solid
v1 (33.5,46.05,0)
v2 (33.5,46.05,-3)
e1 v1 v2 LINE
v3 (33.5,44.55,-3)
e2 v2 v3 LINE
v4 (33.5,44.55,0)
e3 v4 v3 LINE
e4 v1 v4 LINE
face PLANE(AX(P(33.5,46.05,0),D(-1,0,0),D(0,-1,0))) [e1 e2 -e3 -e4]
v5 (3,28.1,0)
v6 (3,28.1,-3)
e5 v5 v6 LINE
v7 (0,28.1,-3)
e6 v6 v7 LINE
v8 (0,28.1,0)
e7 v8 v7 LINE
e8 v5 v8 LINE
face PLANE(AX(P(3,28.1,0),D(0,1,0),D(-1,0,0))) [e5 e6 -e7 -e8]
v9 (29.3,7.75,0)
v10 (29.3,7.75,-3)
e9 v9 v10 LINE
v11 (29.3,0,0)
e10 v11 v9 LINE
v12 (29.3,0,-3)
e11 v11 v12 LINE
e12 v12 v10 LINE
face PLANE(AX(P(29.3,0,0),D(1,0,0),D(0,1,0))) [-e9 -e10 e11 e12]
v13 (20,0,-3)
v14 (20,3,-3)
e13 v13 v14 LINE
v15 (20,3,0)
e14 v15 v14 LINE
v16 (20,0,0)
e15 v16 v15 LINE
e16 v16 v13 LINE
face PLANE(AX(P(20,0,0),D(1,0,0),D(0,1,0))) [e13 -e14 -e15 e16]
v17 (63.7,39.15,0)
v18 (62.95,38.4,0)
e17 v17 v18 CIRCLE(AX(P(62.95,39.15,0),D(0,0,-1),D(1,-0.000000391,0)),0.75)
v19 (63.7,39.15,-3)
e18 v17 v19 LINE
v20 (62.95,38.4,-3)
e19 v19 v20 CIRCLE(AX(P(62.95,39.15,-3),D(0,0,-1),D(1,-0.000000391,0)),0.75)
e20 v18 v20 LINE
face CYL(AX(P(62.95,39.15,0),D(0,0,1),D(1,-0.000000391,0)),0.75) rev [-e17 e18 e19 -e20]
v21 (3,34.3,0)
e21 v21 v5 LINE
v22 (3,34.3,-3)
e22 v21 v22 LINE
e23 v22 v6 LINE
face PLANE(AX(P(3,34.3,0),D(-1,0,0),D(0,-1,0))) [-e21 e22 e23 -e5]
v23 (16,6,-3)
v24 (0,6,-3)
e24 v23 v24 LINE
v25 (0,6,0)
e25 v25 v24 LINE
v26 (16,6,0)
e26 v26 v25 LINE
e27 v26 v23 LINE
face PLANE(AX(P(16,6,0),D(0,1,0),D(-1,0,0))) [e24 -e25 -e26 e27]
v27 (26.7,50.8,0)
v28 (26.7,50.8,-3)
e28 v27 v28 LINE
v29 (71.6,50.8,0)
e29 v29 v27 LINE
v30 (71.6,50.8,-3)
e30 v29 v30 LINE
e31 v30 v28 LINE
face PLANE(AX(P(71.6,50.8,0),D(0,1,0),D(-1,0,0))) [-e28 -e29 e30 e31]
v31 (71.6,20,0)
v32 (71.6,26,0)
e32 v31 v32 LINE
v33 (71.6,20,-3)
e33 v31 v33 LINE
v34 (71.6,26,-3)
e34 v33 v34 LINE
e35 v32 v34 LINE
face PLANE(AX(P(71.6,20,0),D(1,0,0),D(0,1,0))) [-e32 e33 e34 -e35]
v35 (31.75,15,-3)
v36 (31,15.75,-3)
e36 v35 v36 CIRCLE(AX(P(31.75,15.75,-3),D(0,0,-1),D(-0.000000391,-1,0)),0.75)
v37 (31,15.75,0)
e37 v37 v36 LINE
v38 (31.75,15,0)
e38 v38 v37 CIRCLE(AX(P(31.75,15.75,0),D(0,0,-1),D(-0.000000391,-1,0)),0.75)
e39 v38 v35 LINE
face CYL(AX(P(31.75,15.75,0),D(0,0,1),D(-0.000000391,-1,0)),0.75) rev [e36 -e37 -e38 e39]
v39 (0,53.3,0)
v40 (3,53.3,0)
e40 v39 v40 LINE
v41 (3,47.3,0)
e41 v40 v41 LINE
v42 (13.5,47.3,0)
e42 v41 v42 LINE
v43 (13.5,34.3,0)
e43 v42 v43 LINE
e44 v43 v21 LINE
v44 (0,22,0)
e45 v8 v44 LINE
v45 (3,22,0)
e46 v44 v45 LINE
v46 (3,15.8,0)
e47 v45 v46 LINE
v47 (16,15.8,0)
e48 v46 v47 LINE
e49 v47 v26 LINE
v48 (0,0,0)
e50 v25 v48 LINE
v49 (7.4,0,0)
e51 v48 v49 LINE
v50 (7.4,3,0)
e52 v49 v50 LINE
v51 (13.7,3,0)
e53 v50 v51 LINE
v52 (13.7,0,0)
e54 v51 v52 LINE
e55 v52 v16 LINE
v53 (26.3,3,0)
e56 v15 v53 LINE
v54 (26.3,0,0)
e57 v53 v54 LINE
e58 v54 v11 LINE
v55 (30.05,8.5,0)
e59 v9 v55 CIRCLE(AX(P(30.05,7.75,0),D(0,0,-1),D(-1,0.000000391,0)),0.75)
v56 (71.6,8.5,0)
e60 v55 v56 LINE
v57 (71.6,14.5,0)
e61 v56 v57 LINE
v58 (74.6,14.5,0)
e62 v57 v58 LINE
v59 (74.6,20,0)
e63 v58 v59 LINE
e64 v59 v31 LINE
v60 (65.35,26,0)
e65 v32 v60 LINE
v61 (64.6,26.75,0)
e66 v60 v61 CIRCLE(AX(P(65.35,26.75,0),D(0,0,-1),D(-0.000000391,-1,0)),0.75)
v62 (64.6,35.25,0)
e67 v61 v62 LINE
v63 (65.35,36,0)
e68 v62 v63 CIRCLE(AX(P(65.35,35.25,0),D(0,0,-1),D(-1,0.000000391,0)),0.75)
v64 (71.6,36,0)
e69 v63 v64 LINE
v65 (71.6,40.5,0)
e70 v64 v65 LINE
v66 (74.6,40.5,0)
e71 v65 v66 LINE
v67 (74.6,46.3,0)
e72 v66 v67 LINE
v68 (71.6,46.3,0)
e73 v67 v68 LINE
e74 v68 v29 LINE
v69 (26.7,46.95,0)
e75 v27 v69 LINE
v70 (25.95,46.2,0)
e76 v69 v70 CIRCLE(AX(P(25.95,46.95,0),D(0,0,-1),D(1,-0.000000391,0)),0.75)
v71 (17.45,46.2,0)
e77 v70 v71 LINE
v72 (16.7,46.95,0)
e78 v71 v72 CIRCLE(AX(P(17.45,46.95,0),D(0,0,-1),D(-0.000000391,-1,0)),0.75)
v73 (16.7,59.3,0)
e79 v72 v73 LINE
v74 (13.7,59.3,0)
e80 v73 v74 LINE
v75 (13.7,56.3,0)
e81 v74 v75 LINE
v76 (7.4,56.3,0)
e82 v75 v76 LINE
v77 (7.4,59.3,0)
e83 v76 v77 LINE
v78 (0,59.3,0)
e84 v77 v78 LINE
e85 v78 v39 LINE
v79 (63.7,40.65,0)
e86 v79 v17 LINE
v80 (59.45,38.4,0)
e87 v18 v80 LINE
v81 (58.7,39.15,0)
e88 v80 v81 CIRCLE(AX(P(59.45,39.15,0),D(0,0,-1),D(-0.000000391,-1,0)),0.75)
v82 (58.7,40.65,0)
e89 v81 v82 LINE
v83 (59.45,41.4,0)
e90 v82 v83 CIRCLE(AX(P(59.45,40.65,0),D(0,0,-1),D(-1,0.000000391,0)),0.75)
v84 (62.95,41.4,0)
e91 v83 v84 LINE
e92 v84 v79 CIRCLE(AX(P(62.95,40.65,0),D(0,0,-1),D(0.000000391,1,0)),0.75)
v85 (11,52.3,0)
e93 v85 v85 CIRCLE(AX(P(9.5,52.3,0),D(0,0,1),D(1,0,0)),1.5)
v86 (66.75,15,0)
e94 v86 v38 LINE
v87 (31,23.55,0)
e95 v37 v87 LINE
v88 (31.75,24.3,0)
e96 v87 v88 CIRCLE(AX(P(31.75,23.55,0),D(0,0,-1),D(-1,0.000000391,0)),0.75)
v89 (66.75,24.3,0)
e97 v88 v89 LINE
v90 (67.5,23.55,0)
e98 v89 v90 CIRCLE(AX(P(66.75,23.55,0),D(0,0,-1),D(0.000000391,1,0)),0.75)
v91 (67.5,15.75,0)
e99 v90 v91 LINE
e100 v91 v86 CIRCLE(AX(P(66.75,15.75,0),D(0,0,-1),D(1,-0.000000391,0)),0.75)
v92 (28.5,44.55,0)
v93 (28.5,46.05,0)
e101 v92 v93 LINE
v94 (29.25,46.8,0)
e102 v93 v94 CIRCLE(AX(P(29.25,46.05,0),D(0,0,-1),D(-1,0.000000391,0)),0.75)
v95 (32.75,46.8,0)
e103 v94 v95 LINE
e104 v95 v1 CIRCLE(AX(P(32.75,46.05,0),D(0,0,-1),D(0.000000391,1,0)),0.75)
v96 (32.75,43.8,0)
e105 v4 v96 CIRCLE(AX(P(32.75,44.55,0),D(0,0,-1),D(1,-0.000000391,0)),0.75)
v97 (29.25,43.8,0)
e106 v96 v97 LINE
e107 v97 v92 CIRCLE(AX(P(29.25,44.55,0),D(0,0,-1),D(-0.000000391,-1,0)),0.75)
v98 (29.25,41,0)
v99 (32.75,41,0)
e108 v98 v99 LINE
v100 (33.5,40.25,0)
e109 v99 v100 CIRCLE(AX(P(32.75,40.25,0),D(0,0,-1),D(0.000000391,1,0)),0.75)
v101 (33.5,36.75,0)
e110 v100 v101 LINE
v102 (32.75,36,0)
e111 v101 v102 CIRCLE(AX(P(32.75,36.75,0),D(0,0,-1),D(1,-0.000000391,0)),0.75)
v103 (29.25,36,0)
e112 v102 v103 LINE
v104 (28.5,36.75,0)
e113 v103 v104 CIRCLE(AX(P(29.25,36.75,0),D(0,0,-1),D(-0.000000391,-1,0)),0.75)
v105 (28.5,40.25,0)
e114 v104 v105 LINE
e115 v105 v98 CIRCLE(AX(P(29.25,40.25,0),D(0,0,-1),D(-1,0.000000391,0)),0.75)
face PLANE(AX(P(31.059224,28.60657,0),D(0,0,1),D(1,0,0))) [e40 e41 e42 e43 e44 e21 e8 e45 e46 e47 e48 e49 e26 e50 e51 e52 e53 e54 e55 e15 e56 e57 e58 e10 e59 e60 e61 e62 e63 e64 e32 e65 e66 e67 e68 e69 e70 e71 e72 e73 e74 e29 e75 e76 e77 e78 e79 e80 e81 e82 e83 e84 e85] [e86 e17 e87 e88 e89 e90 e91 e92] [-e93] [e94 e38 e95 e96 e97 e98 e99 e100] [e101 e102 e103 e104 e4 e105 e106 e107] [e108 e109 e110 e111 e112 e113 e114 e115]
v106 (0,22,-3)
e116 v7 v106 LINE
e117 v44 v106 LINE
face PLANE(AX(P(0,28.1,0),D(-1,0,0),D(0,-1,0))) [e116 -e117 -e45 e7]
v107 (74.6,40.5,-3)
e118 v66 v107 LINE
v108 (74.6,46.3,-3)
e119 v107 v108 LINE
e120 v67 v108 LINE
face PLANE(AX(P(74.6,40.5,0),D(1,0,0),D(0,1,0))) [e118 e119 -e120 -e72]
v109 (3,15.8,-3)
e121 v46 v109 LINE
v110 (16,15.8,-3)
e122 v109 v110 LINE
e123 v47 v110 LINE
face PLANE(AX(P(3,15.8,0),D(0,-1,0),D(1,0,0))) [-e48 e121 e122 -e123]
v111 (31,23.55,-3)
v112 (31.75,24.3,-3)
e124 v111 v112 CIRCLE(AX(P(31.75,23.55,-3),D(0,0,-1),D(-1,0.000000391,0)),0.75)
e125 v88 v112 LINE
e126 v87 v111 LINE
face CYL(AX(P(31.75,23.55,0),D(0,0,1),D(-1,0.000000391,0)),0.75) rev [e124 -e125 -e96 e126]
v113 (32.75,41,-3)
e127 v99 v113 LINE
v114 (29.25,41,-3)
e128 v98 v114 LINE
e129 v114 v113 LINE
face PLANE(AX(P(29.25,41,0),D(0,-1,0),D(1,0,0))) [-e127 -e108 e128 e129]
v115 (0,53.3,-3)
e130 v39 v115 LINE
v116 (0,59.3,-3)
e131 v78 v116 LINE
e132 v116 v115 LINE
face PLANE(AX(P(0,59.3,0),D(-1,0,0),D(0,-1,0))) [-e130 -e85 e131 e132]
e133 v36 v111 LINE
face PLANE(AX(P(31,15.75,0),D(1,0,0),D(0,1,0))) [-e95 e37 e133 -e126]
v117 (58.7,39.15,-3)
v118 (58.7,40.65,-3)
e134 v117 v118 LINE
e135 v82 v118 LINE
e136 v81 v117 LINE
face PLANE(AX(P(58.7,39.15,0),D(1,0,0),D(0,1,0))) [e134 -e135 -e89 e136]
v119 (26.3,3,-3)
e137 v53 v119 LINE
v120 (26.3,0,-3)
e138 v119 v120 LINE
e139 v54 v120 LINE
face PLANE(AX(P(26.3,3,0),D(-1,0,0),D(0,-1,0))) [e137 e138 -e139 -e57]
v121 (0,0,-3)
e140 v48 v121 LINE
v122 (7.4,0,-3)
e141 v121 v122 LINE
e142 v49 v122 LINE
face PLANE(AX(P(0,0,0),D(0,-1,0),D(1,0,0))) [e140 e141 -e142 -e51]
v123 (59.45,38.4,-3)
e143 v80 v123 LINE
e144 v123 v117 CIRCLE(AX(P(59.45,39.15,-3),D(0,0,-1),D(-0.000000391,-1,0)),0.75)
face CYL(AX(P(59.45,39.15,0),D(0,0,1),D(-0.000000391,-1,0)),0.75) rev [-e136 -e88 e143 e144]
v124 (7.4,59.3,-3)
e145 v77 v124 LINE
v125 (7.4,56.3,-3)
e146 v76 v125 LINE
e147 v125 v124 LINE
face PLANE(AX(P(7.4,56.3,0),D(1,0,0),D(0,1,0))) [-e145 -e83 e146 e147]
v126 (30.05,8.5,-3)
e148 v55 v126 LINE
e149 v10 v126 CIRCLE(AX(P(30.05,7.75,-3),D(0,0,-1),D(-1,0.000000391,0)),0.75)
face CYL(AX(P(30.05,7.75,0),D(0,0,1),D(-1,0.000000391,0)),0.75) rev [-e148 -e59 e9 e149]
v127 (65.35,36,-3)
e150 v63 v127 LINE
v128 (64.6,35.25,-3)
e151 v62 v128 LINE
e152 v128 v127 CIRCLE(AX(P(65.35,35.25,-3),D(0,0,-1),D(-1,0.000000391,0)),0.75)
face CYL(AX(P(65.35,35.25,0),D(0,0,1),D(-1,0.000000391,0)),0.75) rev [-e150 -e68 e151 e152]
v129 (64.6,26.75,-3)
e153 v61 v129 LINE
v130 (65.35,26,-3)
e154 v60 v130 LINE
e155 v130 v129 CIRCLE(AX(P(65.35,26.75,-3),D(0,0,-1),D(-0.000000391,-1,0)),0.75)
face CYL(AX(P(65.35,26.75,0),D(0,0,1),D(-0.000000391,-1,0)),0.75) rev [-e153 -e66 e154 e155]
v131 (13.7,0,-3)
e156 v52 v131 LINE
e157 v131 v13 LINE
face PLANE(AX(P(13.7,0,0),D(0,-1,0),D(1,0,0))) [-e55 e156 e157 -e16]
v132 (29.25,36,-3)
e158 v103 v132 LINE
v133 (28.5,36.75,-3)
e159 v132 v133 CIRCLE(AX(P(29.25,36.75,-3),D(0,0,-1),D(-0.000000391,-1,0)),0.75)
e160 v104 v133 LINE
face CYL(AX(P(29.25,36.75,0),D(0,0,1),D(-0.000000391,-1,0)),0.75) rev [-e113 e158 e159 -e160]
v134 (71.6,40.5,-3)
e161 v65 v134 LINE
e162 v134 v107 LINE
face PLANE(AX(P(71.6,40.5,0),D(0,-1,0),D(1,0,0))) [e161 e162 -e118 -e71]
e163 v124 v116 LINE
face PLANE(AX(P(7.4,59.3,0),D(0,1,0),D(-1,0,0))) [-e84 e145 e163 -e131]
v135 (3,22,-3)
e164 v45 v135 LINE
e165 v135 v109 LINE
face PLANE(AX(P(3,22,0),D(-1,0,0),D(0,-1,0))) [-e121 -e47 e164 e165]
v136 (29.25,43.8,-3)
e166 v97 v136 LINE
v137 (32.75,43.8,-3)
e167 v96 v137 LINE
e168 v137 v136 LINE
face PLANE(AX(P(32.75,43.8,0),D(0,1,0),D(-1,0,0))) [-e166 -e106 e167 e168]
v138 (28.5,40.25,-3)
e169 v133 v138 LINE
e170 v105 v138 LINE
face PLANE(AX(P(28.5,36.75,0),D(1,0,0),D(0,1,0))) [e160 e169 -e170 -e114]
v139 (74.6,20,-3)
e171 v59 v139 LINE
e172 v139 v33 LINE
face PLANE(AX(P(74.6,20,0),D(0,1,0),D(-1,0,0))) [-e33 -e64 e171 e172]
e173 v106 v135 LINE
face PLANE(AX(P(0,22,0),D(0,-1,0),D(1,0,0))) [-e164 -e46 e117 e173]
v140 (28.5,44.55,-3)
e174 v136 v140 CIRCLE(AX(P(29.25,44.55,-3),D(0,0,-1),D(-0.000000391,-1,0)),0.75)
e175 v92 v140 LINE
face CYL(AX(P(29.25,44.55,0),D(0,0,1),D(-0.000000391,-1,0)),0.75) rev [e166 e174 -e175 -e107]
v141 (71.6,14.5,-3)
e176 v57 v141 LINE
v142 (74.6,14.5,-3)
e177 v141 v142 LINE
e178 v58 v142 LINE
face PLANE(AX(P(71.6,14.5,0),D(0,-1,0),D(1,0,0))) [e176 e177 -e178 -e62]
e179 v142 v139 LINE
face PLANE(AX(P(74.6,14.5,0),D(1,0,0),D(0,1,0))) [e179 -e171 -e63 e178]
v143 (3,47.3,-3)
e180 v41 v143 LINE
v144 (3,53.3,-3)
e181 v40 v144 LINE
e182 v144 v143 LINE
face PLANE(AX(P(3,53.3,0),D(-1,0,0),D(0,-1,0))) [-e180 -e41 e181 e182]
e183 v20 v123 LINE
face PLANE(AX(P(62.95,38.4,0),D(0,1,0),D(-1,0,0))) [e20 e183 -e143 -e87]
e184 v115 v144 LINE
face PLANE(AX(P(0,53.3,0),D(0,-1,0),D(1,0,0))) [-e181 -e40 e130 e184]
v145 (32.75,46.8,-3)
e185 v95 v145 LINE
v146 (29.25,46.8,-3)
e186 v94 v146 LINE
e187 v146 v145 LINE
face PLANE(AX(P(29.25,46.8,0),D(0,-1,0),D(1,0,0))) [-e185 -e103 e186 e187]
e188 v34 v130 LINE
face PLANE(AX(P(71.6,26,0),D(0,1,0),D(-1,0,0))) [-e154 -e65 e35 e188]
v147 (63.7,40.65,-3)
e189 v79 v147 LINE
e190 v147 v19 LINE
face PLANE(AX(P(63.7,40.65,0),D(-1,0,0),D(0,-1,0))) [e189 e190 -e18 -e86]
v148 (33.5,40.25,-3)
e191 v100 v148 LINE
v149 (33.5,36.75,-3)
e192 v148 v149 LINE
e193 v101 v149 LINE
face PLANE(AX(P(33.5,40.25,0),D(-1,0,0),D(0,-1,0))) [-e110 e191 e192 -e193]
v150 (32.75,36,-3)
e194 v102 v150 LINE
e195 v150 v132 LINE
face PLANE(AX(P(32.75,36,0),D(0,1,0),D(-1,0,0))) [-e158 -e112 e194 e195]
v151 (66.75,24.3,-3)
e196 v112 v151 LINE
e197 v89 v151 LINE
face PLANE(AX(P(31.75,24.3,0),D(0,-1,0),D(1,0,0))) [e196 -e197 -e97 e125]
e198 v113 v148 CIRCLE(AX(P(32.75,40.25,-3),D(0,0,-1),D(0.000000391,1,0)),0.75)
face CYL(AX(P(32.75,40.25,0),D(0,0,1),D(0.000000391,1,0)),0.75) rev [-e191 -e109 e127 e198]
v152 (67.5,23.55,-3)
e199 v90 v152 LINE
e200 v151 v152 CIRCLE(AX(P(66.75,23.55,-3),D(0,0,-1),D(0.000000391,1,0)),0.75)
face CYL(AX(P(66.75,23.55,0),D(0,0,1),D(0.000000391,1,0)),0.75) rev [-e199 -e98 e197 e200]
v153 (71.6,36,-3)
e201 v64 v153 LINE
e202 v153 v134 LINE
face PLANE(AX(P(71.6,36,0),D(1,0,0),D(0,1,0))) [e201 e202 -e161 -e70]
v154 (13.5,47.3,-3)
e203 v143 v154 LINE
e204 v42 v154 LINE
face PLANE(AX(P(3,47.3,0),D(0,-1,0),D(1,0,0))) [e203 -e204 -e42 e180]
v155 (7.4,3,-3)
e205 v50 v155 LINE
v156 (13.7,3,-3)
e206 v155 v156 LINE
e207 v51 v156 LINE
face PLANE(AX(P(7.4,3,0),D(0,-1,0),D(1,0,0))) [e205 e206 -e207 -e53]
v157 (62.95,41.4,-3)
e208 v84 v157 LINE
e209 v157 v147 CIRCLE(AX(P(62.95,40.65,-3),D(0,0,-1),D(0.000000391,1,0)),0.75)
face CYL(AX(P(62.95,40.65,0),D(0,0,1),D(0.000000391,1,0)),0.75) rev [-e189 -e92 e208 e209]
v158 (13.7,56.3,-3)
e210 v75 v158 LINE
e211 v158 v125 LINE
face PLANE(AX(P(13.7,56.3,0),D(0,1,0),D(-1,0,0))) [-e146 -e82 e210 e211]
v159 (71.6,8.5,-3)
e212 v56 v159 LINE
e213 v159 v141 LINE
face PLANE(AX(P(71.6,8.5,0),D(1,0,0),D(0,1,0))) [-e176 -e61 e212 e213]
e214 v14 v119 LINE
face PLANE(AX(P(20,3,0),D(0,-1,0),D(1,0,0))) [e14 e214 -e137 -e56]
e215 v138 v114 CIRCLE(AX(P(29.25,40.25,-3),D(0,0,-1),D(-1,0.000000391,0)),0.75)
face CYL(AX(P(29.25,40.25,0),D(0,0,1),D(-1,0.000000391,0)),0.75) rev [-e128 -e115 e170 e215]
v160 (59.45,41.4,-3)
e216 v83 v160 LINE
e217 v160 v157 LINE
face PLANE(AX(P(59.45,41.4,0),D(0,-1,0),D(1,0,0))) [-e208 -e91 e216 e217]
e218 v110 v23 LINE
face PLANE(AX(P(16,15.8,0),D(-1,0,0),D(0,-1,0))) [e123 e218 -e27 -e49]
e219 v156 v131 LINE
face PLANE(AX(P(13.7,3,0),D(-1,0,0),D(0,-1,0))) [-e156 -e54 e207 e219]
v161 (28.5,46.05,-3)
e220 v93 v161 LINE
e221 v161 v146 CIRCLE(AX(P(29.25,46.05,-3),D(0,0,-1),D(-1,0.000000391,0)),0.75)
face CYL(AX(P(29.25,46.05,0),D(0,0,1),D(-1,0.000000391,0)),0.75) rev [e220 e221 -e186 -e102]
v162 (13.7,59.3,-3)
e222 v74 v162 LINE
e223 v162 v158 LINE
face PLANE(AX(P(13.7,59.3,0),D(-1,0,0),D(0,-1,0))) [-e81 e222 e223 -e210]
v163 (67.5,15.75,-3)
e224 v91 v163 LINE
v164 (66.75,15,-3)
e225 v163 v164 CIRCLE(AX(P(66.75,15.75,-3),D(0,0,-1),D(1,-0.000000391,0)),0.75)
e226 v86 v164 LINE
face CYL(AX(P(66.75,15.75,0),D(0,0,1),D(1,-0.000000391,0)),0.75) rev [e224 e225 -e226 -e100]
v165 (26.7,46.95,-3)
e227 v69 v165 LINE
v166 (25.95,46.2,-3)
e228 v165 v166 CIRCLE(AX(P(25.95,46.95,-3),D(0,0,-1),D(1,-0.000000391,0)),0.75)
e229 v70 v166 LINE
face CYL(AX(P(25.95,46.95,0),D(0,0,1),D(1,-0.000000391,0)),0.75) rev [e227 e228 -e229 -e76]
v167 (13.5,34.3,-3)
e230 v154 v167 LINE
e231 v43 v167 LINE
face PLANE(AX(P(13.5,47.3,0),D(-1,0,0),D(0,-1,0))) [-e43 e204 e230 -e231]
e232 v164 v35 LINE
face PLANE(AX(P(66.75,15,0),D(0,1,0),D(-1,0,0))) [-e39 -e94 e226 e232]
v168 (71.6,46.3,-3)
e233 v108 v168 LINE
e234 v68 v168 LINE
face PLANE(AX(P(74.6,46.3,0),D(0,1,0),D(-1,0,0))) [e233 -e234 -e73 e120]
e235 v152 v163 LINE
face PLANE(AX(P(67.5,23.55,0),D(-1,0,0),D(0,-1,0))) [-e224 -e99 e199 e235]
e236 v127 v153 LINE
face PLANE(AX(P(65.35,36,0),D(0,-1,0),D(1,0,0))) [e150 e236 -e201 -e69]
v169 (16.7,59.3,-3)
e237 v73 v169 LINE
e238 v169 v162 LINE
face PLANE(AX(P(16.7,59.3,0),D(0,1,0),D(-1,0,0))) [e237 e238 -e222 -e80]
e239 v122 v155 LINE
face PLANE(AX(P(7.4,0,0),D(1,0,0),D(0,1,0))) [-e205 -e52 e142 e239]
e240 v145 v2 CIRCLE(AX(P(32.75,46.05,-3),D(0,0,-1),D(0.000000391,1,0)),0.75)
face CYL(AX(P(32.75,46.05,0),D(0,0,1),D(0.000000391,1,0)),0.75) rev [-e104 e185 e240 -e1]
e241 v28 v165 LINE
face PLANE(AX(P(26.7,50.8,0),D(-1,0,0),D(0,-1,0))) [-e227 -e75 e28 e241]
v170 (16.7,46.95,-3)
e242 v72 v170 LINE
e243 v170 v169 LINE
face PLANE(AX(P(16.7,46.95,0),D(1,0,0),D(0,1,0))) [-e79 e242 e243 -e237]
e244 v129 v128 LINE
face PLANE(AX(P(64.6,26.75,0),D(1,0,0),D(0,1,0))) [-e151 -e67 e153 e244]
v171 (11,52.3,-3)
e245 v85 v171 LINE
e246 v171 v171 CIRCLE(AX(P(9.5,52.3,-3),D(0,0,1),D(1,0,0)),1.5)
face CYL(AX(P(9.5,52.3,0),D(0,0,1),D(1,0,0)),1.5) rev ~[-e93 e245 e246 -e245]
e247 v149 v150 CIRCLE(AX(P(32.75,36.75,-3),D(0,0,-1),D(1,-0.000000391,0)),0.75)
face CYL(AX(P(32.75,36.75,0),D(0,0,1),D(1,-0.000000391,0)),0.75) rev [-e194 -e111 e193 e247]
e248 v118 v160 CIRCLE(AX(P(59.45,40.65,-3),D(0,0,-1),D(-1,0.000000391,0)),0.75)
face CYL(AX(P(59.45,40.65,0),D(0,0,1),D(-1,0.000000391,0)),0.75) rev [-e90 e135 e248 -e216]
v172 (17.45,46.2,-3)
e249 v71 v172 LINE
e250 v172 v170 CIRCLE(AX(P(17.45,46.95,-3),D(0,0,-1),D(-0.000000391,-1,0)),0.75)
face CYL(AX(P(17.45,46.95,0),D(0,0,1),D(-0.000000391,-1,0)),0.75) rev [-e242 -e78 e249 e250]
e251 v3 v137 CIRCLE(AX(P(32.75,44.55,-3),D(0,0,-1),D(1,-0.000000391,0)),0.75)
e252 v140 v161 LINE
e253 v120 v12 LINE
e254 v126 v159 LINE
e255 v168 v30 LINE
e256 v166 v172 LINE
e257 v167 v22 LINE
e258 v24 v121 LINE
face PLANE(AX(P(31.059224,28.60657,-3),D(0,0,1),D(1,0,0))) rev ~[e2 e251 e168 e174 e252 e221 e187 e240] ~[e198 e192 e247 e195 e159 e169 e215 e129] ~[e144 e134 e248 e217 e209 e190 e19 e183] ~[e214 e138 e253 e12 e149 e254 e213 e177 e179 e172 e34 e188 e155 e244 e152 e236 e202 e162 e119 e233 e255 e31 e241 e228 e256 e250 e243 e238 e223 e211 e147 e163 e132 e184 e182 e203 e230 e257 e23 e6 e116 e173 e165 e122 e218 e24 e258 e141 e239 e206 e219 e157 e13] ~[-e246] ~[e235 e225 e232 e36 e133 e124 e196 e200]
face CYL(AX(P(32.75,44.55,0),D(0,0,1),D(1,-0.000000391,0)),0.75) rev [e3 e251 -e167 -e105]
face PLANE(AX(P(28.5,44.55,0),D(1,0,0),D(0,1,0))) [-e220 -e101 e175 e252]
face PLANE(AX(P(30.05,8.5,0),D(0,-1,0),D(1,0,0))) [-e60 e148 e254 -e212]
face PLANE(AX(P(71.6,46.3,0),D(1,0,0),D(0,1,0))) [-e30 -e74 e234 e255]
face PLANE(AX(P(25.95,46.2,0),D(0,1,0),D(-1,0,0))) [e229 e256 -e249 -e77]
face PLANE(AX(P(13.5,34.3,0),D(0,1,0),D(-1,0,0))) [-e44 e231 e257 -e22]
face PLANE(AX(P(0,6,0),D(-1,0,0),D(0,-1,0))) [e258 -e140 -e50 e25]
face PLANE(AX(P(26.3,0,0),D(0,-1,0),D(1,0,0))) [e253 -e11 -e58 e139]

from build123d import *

# Parameters (mm, degrees)
F0_R     = 1.5
F1_DEPTH = 3


with BuildPart() as f1:
    # F0 (on Top) → F1 (new body)
    with BuildSketch(Plane.XY):
        with BuildLine():
            Line((0, 6), (0, 0))
            Line((0, 0), (7.4, 0))
            Line((7.4, 0), (7.4, 3))
            Line((7.4, 3), (13.7, 3))
            Line((13.7, 3), (13.7, 0))
            Line((13.7, 0), (20, 0))
            Line((20, 0), (20, 3))
            Line((20, 3), (26.3, 3))
            Line((26.3, 3), (26.3, 0))
            Line((26.3, 0), (29.3, 0))
            Line((29.3, 0), (29.3, 7.75))
            ThreePointArc((29.3, 7.75), (29.51967, 8.28033), (30.05, 8.5))
            Line((30.05, 8.5), (71.6, 8.5))
            Line((71.6, 8.5), (71.6, 14.5))
            Line((71.6, 14.5), (74.6, 14.5))
            Line((74.6, 14.5), (74.6, 20))
            Line((74.6, 20), (71.6, 20))
            Line((71.6, 20), (71.6, 26))
            Line((71.6, 26), (65.35, 26))
            ThreePointArc((65.35, 26), (64.81967, 26.21967), (64.6, 26.75))
            Line((64.6, 26.75), (64.6, 35.25))
            ThreePointArc((64.6, 35.25), (64.81967, 35.78033), (65.35, 36))
            Line((65.35, 36), (71.6, 36))
            Line((71.6, 36), (71.6, 40.5))
            Line((71.6, 40.5), (74.6, 40.5))
            Line((74.6, 40.5), (74.6, 46.3))
            Line((74.6, 46.3), (71.6, 46.3))
            Line((71.6, 46.3), (71.6, 50.8))
            Line((71.6, 50.8), (26.7, 50.8))
            Line((26.7, 50.8), (26.7, 46.95))
            ThreePointArc((26.7, 46.95), (26.48033, 46.41967), (25.95, 46.2))
            Line((25.95, 46.2), (17.45, 46.2))
            ThreePointArc((17.45, 46.2), (16.91967, 46.41967), (16.7, 46.95))
            Line((16.7, 46.95), (16.7, 59.3))
            Line((16.7, 59.3), (13.7, 59.3))
            Line((13.7, 59.3), (13.7, 56.3))
            Line((13.7, 56.3), (7.4, 56.3))
            Line((7.4, 56.3), (7.4, 59.3))
            Line((7.4, 59.3), (0, 59.3))
            Line((0, 59.3), (0, 53.3))
            Line((0, 53.3), (3, 53.3))
            Line((3, 53.3), (3, 47.3))
            Line((3, 47.3), (13.5, 47.3))
            Line((13.5, 47.3), (13.5, 34.3))
            Line((13.5, 34.3), (3, 34.3))
            Line((3, 34.3), (3, 28.1))
            Line((3, 28.1), (0, 28.1))
            Line((0, 28.1), (0, 22))
            Line((0, 22), (3, 22))
            Line((3, 22), (3, 15.8))
            Line((3, 15.8), (16, 15.8))
            Line((16, 15.8), (16, 6))
            Line((16, 6), (0, 6))
        make_face()
        with BuildLine():
            Line((66.75, 15), (31.75, 15))
            ThreePointArc((31.75, 15), (31.21967, 15.21967), (31, 15.75))
            Line((31, 15.75), (31, 23.55))
            ThreePointArc((31, 23.55), (31.21967, 24.08033), (31.75, 24.3))
            Line((31.75, 24.3), (66.75, 24.3))
            ThreePointArc((66.75, 24.3), (67.28033, 24.08033), (67.5, 23.55))
            Line((67.5, 23.55), (67.5, 15.75))
            ThreePointArc((67.5, 15.75), (67.28033, 15.21967), (66.75, 15))
        make_face(mode=Mode.SUBTRACT)
        with BuildLine():
            Line((32.75, 36), (29.25, 36))
            ThreePointArc((29.25, 36), (28.71967, 36.21967), (28.5, 36.75))
            Line((28.5, 36.75), (28.5, 40.25))
            ThreePointArc((28.5, 40.25), (28.71967, 40.78033), (29.25, 41))
            Line((29.25, 41), (32.75, 41))
            ThreePointArc((32.75, 41), (33.28033, 40.78033), (33.5, 40.25))
            Line((33.5, 40.25), (33.5, 36.75))
            ThreePointArc((33.5, 36.75), (33.28033, 36.21967), (32.75, 36))
        make_face(mode=Mode.SUBTRACT)
        with Locations((9.5, 52.3)):
            Circle(F0_R, mode=Mode.SUBTRACT)
        with BuildLine():
            Line((32.75, 43.8), (29.25, 43.8))
            ThreePointArc((29.25, 43.8), (28.71967, 44.01967), (28.5, 44.55))
            Line((28.5, 44.55), (28.5, 46.05))
            ThreePointArc((28.5, 46.05), (28.71967, 46.58033), (29.25, 46.8))
            Line((29.25, 46.8), (32.75, 46.8))
            ThreePointArc((32.75, 46.8), (33.28033, 46.58033), (33.5, 46.05))
            Line((33.5, 46.05), (33.5, 44.55))
            ThreePointArc((33.5, 44.55), (33.28033, 44.01967), (32.75, 43.8))
        make_face(mode=Mode.SUBTRACT)
        with BuildLine():
            Line((62.95, 38.4), (59.45, 38.4))
            ThreePointArc((59.45, 38.4), (58.91967, 38.61967), (58.7, 39.15))
            Line((58.7, 39.15), (58.7, 40.65))
            ThreePointArc((58.7, 40.65), (58.91967, 41.18033), (59.45, 41.4))
            Line((59.45, 41.4), (62.95, 41.4))
            ThreePointArc((62.95, 41.4), (63.48033, 41.18033), (63.7, 40.65))
            Line((63.7, 40.65), (63.7, 39.15))
            ThreePointArc((63.7, 39.15), (63.48033, 38.61967), (62.95, 38.4))
        make_face(mode=Mode.SUBTRACT)
    extrude(amount=-F1_DEPTH)


solid = f1.part
